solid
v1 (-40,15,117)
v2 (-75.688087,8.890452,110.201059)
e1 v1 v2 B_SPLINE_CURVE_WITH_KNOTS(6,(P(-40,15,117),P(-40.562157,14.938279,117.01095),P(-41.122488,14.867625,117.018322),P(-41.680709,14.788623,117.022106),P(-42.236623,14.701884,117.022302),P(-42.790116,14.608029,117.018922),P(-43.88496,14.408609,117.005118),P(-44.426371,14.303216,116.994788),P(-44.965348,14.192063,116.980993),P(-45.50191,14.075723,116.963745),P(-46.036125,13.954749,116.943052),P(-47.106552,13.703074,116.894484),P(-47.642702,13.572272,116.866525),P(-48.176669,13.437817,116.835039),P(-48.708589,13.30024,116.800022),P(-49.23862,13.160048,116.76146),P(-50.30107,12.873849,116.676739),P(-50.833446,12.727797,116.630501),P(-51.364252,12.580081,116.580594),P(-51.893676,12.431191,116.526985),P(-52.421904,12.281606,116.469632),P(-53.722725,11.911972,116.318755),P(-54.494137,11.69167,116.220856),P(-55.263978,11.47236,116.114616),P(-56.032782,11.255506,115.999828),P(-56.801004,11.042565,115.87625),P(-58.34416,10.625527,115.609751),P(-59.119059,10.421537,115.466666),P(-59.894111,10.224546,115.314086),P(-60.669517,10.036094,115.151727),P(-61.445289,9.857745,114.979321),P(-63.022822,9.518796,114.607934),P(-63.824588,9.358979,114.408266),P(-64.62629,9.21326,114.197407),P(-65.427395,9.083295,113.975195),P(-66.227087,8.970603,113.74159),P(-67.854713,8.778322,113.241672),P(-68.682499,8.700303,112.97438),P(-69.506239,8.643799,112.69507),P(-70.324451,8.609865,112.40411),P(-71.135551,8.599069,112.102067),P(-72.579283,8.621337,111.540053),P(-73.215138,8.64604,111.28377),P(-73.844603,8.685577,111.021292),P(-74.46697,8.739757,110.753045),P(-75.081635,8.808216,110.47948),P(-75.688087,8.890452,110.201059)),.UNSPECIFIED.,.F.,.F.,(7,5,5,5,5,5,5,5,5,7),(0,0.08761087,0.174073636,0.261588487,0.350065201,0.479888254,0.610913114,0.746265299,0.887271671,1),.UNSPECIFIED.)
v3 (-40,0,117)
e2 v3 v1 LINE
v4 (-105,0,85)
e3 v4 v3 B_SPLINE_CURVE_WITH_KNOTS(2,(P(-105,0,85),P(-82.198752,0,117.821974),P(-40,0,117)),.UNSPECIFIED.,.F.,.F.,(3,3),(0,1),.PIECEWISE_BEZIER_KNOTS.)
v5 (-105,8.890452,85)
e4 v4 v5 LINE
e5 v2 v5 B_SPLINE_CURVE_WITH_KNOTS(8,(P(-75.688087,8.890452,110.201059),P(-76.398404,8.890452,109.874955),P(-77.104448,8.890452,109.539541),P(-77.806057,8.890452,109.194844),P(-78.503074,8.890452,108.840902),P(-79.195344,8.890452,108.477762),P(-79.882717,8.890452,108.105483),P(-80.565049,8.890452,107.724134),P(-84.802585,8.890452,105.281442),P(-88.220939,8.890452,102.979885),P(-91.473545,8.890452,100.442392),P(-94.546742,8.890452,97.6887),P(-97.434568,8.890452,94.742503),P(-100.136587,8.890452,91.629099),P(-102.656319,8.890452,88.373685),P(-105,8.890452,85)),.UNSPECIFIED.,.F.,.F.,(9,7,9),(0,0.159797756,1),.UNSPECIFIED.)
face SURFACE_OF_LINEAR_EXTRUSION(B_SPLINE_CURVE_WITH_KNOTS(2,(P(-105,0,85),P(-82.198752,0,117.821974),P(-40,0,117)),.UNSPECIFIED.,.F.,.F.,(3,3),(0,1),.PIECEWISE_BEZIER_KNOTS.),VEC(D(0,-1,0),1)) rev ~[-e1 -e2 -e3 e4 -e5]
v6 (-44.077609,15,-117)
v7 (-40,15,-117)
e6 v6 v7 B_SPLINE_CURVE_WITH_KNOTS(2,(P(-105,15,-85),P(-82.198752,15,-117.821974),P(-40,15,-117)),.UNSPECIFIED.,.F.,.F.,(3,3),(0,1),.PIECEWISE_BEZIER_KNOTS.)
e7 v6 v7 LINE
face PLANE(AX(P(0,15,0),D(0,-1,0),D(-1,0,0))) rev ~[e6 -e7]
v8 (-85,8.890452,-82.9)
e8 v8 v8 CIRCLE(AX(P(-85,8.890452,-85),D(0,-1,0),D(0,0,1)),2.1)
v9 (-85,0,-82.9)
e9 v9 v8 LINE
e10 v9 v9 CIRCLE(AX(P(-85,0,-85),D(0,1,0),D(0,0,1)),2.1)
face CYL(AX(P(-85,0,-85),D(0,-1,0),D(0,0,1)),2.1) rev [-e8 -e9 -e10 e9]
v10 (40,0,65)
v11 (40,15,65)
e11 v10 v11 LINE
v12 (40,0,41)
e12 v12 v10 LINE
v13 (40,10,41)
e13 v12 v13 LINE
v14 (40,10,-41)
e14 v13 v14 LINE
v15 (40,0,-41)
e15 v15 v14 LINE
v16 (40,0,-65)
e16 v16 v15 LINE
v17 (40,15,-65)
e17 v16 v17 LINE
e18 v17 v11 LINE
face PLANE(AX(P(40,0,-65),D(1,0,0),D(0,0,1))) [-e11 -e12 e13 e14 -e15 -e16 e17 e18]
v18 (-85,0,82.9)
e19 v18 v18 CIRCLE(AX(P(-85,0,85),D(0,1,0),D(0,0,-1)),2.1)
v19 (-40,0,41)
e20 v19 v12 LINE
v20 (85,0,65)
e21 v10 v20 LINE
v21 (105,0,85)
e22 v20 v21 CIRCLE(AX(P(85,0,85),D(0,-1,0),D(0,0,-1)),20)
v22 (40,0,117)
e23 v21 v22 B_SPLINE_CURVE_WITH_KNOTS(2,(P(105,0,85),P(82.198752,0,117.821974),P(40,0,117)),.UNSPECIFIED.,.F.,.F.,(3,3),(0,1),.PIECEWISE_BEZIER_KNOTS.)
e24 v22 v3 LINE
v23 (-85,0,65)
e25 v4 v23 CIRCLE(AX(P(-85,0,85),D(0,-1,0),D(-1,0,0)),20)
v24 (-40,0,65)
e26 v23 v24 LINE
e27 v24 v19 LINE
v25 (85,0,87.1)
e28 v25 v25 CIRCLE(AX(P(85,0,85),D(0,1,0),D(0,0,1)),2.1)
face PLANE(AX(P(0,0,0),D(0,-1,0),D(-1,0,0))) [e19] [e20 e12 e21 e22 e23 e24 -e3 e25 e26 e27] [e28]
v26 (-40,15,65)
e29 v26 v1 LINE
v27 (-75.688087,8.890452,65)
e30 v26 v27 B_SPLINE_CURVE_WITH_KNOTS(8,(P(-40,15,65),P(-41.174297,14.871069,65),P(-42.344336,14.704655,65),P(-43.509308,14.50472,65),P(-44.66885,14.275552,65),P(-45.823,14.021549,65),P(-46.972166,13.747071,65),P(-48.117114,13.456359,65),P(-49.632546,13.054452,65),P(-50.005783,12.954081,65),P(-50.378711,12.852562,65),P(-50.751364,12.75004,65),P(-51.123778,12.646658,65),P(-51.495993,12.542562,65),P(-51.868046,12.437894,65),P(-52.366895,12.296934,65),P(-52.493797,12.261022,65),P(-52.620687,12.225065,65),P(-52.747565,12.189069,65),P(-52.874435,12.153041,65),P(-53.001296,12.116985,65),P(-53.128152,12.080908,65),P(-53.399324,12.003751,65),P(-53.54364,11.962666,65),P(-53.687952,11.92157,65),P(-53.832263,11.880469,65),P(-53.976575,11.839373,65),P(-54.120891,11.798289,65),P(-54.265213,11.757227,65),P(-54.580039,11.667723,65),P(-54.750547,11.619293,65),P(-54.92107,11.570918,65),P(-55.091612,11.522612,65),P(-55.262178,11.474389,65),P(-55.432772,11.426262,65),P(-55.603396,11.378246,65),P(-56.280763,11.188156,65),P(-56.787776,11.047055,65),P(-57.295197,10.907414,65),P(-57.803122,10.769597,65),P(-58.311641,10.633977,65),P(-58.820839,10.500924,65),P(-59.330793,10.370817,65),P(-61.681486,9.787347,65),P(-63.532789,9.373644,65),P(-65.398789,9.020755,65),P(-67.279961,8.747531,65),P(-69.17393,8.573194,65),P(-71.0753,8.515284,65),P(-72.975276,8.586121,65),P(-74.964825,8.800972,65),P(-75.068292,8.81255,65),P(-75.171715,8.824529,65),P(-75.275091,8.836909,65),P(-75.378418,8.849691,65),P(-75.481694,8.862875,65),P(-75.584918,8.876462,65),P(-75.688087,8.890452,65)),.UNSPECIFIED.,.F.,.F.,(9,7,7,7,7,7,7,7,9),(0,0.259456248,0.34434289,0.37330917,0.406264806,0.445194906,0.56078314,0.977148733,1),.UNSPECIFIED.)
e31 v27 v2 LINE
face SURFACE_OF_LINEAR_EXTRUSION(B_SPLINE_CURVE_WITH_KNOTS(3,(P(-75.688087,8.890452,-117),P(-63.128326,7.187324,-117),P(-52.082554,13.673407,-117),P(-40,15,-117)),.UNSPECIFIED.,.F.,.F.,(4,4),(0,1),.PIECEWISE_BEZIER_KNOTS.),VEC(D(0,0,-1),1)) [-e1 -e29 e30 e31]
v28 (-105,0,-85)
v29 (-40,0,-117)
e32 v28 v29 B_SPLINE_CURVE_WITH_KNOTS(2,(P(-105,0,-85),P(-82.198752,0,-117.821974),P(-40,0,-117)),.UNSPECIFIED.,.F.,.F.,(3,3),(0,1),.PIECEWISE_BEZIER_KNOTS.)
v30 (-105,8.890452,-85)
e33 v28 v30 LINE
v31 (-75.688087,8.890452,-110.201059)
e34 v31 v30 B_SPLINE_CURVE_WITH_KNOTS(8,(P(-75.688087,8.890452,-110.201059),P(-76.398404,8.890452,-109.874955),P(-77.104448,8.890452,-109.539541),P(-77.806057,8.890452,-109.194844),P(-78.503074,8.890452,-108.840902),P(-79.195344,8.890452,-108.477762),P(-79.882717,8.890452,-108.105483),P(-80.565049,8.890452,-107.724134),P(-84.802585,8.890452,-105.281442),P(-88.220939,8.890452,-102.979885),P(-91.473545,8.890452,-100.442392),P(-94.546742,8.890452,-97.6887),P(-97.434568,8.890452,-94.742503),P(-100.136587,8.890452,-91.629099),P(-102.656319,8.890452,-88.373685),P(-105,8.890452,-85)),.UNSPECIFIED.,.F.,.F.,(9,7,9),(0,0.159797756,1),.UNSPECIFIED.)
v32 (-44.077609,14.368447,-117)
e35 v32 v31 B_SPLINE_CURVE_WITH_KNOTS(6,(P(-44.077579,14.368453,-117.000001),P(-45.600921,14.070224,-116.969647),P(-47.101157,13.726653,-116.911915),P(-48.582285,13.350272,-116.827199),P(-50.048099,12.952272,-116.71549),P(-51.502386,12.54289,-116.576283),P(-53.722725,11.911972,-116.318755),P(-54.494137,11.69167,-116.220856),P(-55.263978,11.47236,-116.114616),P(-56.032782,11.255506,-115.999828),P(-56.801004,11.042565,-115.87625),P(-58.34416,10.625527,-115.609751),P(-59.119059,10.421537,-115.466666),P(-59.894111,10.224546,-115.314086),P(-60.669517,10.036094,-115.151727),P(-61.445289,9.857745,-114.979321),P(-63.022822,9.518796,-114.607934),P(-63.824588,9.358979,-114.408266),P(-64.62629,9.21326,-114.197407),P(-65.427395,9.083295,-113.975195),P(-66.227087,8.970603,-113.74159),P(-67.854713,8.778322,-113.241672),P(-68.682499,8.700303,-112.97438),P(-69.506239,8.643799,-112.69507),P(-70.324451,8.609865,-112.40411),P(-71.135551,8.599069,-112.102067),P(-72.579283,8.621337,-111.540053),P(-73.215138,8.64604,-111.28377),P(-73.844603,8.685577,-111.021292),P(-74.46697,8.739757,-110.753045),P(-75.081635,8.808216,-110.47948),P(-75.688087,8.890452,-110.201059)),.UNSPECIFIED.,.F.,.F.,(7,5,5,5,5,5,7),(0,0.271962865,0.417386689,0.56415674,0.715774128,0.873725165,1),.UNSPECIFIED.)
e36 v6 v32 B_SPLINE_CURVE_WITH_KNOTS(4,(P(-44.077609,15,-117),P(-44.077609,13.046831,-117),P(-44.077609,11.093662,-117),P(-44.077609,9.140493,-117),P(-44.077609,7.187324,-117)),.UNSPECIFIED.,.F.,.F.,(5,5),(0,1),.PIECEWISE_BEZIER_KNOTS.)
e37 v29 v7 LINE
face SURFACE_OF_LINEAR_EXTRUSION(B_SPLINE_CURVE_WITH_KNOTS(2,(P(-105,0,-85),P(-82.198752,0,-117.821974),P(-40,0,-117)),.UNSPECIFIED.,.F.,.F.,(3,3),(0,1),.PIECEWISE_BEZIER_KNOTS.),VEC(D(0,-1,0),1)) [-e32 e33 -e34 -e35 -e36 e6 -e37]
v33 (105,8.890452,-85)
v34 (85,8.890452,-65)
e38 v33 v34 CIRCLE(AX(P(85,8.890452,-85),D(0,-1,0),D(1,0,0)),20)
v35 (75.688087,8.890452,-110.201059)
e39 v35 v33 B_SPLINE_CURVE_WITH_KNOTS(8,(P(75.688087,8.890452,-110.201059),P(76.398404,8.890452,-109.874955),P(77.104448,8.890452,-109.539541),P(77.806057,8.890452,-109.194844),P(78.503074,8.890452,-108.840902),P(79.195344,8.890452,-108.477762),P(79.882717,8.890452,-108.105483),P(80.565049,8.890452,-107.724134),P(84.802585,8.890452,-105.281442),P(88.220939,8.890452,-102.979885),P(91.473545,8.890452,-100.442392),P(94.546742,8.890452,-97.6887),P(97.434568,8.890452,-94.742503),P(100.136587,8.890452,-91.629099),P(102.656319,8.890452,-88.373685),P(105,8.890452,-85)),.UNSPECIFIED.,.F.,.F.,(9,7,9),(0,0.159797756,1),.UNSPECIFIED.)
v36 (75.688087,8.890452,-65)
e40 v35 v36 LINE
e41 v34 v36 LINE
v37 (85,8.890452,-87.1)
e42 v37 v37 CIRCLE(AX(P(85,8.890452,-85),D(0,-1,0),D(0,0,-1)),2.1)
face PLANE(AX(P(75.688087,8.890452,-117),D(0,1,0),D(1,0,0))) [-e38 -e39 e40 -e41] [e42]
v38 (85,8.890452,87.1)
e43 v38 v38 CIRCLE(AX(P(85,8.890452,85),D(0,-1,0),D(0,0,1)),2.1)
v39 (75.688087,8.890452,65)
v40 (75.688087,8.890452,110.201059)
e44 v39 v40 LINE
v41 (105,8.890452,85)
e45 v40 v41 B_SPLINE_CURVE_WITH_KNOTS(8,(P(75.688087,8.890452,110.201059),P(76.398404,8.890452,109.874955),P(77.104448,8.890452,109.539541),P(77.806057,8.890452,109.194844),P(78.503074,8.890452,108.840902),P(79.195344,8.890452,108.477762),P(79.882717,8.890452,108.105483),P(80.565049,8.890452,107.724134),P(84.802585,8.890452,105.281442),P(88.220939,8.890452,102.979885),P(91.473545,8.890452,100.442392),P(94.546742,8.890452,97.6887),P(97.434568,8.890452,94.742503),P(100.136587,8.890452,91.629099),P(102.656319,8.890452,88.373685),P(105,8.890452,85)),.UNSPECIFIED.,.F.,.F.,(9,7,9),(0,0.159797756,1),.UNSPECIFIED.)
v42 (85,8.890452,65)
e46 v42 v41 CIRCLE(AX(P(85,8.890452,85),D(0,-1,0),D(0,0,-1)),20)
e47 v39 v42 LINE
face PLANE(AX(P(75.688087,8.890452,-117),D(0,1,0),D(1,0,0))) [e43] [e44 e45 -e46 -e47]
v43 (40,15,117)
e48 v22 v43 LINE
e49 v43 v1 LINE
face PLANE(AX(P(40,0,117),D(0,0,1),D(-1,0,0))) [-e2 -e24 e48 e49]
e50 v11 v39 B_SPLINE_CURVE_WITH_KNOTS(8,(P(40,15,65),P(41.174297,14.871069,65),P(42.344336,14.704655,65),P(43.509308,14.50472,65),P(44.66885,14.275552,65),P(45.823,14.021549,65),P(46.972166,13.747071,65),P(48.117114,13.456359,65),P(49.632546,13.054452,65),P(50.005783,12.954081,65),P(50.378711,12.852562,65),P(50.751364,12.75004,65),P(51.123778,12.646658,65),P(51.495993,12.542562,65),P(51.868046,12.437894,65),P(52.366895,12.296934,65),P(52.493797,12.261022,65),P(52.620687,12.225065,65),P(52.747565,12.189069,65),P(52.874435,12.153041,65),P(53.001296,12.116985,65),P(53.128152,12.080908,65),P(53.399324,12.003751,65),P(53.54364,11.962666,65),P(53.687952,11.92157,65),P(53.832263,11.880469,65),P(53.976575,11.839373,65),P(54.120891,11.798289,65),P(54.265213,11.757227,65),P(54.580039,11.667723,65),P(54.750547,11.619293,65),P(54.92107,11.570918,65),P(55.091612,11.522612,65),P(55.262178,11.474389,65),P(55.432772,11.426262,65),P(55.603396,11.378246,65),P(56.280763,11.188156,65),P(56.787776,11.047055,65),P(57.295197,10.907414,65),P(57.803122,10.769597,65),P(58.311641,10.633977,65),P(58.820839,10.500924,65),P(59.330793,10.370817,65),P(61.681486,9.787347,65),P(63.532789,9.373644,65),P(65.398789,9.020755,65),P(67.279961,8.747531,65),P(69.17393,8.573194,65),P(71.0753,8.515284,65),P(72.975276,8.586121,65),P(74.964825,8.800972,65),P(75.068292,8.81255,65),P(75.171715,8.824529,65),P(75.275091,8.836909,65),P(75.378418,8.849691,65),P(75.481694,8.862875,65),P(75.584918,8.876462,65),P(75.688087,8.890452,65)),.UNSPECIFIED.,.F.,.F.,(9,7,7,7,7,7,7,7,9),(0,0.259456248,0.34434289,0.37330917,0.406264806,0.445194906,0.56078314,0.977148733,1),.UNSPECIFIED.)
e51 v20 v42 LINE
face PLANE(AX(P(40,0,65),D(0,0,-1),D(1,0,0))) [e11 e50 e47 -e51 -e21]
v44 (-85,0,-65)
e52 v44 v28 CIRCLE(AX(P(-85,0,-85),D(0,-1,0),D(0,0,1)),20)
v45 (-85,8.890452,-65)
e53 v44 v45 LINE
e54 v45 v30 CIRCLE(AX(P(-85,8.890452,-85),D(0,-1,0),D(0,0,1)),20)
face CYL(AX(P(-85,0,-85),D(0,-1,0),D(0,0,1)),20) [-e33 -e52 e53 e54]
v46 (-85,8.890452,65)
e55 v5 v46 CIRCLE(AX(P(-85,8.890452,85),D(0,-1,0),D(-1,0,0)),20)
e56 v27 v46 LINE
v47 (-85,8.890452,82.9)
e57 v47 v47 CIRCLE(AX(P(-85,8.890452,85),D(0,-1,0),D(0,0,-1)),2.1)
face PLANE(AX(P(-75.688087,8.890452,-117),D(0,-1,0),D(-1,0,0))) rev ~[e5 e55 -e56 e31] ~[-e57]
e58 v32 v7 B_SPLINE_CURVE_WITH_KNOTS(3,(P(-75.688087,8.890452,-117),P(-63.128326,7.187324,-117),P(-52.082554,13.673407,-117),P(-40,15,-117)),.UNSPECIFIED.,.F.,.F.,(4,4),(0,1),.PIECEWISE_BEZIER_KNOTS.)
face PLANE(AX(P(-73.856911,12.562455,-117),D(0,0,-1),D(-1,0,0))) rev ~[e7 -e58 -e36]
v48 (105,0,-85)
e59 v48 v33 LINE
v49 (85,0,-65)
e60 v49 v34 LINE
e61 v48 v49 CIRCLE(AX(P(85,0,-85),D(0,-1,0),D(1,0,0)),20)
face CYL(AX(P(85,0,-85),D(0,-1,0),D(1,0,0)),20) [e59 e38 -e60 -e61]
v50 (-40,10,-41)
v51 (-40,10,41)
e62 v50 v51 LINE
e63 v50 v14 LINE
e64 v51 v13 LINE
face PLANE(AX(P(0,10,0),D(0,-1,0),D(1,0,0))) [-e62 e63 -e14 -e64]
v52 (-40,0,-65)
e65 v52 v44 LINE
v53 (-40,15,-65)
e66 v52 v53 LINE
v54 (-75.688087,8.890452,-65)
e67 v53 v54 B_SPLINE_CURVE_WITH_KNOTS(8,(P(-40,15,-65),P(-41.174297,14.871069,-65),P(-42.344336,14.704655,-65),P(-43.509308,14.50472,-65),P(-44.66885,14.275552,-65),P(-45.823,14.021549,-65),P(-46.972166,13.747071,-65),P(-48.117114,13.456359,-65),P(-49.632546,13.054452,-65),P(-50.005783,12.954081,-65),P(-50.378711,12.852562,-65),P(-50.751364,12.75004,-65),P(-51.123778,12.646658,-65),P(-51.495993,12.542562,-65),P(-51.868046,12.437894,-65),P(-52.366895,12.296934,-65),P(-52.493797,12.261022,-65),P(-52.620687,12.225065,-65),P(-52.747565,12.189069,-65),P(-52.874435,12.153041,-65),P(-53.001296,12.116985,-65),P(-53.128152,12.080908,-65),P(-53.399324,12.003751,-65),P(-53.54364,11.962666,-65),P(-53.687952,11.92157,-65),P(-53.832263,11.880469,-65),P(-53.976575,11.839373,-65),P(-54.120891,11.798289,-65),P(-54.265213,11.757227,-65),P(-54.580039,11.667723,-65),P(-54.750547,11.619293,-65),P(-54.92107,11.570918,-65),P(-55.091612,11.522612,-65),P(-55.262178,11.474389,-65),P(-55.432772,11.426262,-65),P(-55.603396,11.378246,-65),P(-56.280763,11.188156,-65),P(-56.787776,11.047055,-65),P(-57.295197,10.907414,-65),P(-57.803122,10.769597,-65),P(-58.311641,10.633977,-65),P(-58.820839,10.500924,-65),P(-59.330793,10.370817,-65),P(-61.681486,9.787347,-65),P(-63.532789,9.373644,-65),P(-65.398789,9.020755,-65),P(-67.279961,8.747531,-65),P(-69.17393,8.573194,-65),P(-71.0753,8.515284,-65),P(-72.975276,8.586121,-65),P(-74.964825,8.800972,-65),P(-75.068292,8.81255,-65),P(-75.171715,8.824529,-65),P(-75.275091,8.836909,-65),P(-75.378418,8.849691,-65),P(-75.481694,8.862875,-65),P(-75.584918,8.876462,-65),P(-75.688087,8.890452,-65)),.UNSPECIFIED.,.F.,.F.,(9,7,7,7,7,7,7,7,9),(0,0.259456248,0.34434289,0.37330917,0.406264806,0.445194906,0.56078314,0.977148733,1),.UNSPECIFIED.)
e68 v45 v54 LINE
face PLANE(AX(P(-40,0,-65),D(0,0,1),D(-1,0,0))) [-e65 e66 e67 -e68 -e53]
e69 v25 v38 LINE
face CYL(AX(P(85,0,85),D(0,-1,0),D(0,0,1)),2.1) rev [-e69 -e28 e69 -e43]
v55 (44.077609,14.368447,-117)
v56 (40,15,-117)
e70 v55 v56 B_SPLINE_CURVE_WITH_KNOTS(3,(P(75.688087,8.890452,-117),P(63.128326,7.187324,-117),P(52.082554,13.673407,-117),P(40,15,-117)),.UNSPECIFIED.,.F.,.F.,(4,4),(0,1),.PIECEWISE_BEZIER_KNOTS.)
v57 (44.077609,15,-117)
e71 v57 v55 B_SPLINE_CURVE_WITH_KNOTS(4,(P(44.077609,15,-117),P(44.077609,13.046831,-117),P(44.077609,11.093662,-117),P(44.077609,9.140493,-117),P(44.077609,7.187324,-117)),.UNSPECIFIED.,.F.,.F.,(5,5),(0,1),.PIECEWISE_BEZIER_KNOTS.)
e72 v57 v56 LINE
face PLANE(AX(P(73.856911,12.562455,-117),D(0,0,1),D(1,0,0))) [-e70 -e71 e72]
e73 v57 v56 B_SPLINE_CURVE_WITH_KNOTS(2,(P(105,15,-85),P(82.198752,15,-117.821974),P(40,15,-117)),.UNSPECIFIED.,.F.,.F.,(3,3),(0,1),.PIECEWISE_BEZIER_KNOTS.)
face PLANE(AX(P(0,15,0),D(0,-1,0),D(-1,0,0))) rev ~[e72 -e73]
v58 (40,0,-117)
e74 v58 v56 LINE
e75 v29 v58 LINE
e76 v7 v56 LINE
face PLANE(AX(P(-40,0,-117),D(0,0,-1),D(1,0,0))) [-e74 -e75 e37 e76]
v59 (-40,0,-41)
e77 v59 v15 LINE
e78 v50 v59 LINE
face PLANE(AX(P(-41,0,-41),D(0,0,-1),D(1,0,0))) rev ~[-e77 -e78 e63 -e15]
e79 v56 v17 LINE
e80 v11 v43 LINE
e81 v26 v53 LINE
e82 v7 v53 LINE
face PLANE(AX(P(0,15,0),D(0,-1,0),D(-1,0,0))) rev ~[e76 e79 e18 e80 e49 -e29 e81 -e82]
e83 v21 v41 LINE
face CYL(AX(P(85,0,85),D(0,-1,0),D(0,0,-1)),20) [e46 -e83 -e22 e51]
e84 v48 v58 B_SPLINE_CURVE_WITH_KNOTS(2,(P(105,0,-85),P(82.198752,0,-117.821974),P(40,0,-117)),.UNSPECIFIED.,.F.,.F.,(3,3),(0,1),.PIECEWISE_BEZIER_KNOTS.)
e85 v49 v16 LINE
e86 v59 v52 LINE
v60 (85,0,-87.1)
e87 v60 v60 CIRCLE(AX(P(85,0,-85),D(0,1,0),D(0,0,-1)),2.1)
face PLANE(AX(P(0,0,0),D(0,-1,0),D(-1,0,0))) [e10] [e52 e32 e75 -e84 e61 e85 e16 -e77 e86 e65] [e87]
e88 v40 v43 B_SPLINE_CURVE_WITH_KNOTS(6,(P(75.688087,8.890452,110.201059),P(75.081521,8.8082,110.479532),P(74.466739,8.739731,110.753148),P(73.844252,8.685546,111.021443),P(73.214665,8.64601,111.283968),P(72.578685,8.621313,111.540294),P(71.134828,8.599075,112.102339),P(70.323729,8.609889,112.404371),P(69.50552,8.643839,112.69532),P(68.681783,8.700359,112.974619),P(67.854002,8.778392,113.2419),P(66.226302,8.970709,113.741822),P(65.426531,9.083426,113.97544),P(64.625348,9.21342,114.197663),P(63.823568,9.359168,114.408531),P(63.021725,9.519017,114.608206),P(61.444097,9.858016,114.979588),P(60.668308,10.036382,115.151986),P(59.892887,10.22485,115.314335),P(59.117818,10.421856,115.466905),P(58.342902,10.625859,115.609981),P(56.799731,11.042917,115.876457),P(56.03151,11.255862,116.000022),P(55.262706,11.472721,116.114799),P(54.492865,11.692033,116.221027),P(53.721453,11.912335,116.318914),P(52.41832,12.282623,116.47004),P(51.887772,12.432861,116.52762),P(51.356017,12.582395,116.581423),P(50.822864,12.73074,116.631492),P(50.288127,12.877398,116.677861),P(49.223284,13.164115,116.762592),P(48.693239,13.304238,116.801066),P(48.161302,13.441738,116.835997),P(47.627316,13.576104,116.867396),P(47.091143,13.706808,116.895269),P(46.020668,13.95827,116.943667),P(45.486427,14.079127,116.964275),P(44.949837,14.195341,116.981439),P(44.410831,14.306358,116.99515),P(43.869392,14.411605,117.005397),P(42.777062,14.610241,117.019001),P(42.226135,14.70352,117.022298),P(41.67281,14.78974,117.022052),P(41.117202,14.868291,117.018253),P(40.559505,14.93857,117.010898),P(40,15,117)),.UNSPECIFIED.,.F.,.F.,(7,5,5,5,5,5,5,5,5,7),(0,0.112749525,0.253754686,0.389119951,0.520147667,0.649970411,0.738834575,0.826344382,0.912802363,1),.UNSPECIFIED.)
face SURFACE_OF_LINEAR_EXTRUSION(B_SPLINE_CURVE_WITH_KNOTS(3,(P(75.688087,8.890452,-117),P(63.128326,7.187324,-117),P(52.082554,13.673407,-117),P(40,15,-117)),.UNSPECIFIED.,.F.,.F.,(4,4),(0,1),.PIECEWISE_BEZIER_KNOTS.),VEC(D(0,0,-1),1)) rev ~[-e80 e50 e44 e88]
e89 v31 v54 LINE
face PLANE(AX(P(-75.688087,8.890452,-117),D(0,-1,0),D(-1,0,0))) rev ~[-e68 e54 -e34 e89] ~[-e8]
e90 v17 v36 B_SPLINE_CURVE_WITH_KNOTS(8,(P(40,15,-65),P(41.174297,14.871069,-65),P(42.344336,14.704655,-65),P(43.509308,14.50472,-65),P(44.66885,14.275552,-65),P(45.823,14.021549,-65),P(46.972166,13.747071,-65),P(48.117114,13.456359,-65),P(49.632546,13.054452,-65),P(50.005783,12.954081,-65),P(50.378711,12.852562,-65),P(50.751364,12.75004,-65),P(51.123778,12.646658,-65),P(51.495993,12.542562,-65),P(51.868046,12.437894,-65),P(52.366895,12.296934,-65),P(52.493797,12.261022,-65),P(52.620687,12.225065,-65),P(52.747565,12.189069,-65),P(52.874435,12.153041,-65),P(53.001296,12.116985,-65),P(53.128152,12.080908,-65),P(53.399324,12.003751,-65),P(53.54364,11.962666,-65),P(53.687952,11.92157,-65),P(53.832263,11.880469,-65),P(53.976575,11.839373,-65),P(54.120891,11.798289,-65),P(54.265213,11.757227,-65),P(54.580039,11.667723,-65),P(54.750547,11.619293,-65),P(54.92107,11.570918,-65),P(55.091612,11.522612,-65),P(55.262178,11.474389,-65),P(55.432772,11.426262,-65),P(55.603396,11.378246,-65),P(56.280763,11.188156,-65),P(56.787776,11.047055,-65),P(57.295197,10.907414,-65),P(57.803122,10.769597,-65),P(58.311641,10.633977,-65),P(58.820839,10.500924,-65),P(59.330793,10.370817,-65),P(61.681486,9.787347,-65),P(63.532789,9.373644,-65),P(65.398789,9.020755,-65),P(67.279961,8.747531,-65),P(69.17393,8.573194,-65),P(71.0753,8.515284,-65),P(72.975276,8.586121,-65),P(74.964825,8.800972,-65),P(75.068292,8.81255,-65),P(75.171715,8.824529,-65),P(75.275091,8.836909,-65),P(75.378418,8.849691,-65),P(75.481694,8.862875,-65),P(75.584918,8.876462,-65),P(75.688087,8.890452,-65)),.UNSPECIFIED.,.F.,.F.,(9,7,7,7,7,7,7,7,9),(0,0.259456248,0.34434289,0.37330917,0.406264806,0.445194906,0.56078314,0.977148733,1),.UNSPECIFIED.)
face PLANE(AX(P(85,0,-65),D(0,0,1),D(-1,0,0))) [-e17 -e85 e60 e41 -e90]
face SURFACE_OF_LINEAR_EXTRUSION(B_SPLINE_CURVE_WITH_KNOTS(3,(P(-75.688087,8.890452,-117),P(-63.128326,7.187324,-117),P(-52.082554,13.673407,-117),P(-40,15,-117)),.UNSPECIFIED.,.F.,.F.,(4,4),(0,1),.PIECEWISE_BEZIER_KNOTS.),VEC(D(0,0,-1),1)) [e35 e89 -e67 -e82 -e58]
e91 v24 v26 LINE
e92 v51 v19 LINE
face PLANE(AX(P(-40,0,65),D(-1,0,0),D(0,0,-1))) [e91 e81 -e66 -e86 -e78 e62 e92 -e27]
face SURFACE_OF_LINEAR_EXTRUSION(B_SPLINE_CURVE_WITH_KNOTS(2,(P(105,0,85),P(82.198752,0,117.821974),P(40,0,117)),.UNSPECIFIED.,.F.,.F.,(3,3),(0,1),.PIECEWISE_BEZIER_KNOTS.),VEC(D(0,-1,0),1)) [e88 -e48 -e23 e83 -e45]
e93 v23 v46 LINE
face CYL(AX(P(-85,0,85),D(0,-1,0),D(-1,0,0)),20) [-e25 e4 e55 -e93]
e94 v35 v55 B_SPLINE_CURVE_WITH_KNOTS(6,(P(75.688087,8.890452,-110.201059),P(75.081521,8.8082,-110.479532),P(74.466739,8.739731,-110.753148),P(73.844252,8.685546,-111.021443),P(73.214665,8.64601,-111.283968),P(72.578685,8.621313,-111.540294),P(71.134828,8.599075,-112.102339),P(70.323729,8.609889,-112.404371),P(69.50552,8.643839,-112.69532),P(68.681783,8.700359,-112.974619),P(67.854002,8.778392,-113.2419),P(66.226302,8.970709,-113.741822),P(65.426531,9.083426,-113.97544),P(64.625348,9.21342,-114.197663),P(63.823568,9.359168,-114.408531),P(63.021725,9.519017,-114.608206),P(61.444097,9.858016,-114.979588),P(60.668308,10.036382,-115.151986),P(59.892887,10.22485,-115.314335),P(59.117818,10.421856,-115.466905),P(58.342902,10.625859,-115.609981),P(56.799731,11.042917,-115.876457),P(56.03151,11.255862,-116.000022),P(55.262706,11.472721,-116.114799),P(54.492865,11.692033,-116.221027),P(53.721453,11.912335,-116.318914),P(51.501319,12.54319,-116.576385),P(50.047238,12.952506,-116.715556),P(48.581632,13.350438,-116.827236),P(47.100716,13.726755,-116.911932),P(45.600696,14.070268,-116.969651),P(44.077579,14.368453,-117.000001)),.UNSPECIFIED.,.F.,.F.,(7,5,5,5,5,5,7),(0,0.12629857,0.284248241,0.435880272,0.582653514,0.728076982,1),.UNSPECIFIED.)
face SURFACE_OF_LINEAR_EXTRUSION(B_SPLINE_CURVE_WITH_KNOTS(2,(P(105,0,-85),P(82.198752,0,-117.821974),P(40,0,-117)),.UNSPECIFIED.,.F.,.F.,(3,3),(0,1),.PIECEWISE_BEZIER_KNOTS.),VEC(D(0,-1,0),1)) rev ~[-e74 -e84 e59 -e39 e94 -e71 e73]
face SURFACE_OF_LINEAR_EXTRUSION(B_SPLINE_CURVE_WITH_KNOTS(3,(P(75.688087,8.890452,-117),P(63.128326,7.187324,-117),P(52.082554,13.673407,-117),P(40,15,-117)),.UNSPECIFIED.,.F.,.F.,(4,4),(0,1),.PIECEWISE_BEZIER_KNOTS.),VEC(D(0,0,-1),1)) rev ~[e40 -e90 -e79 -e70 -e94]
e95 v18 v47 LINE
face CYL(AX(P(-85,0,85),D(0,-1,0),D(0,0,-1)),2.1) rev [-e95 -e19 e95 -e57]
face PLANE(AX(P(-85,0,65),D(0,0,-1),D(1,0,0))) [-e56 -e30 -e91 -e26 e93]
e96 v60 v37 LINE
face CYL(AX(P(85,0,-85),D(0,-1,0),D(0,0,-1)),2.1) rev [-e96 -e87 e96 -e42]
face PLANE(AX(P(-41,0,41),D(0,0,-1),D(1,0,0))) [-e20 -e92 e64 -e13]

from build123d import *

# Parameters (mm, degrees)
SKETCH1_R           = 2.1
BOSS_EXTRUDE1_DEPTH = 15
SKETCH2_W           = 82
SKETCH2_H           = 82
CUT_EXTRUDE1_DEPTH  = 10
CUT_EXTRUDE2_DEPTH  = 257.934619876


with BuildPart() as part:
    # Sketch1 → Boss-Extrude1 (new body)
    with BuildSketch(Plane(origin=(0, 0, 0), x_dir=(1, 0, 0), z_dir=(0, 1, 0))):
        with BuildLine():
            Line((-40, 117), (40, 117))
            add(Edge.make_bspline(
                [(105, 85), (82.19875176, 117.821973651), (40, 117)],
                knots=[0, 0, 0, 1, 1, 1], degree=2))
            ThreePointArc((105, 85), (99.142135624, 70.857864376), (85, 65))
            Line((85, 65), (40, 65))
            Line((40, 65), (40, -65))
            Line((40, -65), (85, -65))
            ThreePointArc((85, -65), (99.142135624, -70.857864376), (105, -85))
            add(Edge.make_bspline(
                [(105, -85), (82.19875176, -117.821973651), (40, -117)],
                knots=[0, 0, 0, 1, 1, 1], degree=2))
            Line((40, -117), (-40, -117))
            add(Edge.make_bspline(
                [(-105, -85), (-82.19875176, -117.821973651), (-40, -117)],
                knots=[0, 0, 0, 1, 1, 1], degree=2))
            ThreePointArc((-105, -85), (-99.142135624, -70.857864376), (-85, -65))
            Line((-85, -65), (-40, -65))
            Line((-40, -65), (-40, 65))
            Line((-40, 65), (-85, 65))
            ThreePointArc((-85, 65), (-99.142135624, 70.857864376), (-105, 85))
            add(Edge.make_bspline(
                [(-105, 85), (-82.19875176, 117.821973651), (-40, 117)],
                knots=[0, 0, 0, 1, 1, 1], degree=2))
        make_face()
        with Locations(Location((-85, 85, 0), (0, 0, 270))):
            Circle(SKETCH1_R, mode=Mode.SUBTRACT)
        with Locations(Location((85, 85, 0), (0, 0, 90))):
            Circle(SKETCH1_R, mode=Mode.SUBTRACT)
        with Locations(Location((-85, -85, 0), (0, 0, 90))):
            Circle(SKETCH1_R, mode=Mode.SUBTRACT)
        with Locations(Location((85, -85, 0), (0, 0, 270))):
            Circle(SKETCH1_R, mode=Mode.SUBTRACT)
    extrude(amount=BOSS_EXTRUDE1_DEPTH)

    # Sketch2 → Cut-Extrude1 (cut)
    with BuildSketch(Plane.XZ):
        Rectangle(SKETCH2_W, SKETCH2_H)
    extrude(amount=-CUT_EXTRUDE1_DEPTH, mode=Mode.SUBTRACT)

    # Sketch3 → Cut-Extrude2 (cut, through all)
    with BuildSketch(Plane(origin=(0, 0, -117), x_dir=(-1, 0, 0), z_dir=(0, 0, -1))):
        with BuildLine():
            Line((-75.688086791, 8.8904517), (-105, 8.8904517))
            Line((-105, 8.8904517), (-105, 15))
            Line((-105, 15), (-40, 15))
            add(Edge.make_bspline(
                [(-75.688086791, 8.8904517), (-63.128326114, 7.187324041), (-52.082553879, 13.673406614), (-40, 15)],
                knots=[0, 0, 0, 0, 1, 1, 1, 1], degree=3))
        make_face()
        with BuildLine():
            Line((105, 15), (40, 15))
            add(Edge.make_bspline(
                [(75.688086791, 8.8904517), (63.128326114, 7.187324041), (52.082553879, 13.673406614), (40, 15)],
                knots=[0, 0, 0, 0, 1, 1, 1, 1], degree=3))
            Line((75.688086791, 8.8904517), (105, 8.8904517))
            Line((105, 8.8904517), (105, 15))
        make_face()
    extrude(amount=-CUT_EXTRUDE2_DEPTH, mode=Mode.SUBTRACT)


solid = part.part
